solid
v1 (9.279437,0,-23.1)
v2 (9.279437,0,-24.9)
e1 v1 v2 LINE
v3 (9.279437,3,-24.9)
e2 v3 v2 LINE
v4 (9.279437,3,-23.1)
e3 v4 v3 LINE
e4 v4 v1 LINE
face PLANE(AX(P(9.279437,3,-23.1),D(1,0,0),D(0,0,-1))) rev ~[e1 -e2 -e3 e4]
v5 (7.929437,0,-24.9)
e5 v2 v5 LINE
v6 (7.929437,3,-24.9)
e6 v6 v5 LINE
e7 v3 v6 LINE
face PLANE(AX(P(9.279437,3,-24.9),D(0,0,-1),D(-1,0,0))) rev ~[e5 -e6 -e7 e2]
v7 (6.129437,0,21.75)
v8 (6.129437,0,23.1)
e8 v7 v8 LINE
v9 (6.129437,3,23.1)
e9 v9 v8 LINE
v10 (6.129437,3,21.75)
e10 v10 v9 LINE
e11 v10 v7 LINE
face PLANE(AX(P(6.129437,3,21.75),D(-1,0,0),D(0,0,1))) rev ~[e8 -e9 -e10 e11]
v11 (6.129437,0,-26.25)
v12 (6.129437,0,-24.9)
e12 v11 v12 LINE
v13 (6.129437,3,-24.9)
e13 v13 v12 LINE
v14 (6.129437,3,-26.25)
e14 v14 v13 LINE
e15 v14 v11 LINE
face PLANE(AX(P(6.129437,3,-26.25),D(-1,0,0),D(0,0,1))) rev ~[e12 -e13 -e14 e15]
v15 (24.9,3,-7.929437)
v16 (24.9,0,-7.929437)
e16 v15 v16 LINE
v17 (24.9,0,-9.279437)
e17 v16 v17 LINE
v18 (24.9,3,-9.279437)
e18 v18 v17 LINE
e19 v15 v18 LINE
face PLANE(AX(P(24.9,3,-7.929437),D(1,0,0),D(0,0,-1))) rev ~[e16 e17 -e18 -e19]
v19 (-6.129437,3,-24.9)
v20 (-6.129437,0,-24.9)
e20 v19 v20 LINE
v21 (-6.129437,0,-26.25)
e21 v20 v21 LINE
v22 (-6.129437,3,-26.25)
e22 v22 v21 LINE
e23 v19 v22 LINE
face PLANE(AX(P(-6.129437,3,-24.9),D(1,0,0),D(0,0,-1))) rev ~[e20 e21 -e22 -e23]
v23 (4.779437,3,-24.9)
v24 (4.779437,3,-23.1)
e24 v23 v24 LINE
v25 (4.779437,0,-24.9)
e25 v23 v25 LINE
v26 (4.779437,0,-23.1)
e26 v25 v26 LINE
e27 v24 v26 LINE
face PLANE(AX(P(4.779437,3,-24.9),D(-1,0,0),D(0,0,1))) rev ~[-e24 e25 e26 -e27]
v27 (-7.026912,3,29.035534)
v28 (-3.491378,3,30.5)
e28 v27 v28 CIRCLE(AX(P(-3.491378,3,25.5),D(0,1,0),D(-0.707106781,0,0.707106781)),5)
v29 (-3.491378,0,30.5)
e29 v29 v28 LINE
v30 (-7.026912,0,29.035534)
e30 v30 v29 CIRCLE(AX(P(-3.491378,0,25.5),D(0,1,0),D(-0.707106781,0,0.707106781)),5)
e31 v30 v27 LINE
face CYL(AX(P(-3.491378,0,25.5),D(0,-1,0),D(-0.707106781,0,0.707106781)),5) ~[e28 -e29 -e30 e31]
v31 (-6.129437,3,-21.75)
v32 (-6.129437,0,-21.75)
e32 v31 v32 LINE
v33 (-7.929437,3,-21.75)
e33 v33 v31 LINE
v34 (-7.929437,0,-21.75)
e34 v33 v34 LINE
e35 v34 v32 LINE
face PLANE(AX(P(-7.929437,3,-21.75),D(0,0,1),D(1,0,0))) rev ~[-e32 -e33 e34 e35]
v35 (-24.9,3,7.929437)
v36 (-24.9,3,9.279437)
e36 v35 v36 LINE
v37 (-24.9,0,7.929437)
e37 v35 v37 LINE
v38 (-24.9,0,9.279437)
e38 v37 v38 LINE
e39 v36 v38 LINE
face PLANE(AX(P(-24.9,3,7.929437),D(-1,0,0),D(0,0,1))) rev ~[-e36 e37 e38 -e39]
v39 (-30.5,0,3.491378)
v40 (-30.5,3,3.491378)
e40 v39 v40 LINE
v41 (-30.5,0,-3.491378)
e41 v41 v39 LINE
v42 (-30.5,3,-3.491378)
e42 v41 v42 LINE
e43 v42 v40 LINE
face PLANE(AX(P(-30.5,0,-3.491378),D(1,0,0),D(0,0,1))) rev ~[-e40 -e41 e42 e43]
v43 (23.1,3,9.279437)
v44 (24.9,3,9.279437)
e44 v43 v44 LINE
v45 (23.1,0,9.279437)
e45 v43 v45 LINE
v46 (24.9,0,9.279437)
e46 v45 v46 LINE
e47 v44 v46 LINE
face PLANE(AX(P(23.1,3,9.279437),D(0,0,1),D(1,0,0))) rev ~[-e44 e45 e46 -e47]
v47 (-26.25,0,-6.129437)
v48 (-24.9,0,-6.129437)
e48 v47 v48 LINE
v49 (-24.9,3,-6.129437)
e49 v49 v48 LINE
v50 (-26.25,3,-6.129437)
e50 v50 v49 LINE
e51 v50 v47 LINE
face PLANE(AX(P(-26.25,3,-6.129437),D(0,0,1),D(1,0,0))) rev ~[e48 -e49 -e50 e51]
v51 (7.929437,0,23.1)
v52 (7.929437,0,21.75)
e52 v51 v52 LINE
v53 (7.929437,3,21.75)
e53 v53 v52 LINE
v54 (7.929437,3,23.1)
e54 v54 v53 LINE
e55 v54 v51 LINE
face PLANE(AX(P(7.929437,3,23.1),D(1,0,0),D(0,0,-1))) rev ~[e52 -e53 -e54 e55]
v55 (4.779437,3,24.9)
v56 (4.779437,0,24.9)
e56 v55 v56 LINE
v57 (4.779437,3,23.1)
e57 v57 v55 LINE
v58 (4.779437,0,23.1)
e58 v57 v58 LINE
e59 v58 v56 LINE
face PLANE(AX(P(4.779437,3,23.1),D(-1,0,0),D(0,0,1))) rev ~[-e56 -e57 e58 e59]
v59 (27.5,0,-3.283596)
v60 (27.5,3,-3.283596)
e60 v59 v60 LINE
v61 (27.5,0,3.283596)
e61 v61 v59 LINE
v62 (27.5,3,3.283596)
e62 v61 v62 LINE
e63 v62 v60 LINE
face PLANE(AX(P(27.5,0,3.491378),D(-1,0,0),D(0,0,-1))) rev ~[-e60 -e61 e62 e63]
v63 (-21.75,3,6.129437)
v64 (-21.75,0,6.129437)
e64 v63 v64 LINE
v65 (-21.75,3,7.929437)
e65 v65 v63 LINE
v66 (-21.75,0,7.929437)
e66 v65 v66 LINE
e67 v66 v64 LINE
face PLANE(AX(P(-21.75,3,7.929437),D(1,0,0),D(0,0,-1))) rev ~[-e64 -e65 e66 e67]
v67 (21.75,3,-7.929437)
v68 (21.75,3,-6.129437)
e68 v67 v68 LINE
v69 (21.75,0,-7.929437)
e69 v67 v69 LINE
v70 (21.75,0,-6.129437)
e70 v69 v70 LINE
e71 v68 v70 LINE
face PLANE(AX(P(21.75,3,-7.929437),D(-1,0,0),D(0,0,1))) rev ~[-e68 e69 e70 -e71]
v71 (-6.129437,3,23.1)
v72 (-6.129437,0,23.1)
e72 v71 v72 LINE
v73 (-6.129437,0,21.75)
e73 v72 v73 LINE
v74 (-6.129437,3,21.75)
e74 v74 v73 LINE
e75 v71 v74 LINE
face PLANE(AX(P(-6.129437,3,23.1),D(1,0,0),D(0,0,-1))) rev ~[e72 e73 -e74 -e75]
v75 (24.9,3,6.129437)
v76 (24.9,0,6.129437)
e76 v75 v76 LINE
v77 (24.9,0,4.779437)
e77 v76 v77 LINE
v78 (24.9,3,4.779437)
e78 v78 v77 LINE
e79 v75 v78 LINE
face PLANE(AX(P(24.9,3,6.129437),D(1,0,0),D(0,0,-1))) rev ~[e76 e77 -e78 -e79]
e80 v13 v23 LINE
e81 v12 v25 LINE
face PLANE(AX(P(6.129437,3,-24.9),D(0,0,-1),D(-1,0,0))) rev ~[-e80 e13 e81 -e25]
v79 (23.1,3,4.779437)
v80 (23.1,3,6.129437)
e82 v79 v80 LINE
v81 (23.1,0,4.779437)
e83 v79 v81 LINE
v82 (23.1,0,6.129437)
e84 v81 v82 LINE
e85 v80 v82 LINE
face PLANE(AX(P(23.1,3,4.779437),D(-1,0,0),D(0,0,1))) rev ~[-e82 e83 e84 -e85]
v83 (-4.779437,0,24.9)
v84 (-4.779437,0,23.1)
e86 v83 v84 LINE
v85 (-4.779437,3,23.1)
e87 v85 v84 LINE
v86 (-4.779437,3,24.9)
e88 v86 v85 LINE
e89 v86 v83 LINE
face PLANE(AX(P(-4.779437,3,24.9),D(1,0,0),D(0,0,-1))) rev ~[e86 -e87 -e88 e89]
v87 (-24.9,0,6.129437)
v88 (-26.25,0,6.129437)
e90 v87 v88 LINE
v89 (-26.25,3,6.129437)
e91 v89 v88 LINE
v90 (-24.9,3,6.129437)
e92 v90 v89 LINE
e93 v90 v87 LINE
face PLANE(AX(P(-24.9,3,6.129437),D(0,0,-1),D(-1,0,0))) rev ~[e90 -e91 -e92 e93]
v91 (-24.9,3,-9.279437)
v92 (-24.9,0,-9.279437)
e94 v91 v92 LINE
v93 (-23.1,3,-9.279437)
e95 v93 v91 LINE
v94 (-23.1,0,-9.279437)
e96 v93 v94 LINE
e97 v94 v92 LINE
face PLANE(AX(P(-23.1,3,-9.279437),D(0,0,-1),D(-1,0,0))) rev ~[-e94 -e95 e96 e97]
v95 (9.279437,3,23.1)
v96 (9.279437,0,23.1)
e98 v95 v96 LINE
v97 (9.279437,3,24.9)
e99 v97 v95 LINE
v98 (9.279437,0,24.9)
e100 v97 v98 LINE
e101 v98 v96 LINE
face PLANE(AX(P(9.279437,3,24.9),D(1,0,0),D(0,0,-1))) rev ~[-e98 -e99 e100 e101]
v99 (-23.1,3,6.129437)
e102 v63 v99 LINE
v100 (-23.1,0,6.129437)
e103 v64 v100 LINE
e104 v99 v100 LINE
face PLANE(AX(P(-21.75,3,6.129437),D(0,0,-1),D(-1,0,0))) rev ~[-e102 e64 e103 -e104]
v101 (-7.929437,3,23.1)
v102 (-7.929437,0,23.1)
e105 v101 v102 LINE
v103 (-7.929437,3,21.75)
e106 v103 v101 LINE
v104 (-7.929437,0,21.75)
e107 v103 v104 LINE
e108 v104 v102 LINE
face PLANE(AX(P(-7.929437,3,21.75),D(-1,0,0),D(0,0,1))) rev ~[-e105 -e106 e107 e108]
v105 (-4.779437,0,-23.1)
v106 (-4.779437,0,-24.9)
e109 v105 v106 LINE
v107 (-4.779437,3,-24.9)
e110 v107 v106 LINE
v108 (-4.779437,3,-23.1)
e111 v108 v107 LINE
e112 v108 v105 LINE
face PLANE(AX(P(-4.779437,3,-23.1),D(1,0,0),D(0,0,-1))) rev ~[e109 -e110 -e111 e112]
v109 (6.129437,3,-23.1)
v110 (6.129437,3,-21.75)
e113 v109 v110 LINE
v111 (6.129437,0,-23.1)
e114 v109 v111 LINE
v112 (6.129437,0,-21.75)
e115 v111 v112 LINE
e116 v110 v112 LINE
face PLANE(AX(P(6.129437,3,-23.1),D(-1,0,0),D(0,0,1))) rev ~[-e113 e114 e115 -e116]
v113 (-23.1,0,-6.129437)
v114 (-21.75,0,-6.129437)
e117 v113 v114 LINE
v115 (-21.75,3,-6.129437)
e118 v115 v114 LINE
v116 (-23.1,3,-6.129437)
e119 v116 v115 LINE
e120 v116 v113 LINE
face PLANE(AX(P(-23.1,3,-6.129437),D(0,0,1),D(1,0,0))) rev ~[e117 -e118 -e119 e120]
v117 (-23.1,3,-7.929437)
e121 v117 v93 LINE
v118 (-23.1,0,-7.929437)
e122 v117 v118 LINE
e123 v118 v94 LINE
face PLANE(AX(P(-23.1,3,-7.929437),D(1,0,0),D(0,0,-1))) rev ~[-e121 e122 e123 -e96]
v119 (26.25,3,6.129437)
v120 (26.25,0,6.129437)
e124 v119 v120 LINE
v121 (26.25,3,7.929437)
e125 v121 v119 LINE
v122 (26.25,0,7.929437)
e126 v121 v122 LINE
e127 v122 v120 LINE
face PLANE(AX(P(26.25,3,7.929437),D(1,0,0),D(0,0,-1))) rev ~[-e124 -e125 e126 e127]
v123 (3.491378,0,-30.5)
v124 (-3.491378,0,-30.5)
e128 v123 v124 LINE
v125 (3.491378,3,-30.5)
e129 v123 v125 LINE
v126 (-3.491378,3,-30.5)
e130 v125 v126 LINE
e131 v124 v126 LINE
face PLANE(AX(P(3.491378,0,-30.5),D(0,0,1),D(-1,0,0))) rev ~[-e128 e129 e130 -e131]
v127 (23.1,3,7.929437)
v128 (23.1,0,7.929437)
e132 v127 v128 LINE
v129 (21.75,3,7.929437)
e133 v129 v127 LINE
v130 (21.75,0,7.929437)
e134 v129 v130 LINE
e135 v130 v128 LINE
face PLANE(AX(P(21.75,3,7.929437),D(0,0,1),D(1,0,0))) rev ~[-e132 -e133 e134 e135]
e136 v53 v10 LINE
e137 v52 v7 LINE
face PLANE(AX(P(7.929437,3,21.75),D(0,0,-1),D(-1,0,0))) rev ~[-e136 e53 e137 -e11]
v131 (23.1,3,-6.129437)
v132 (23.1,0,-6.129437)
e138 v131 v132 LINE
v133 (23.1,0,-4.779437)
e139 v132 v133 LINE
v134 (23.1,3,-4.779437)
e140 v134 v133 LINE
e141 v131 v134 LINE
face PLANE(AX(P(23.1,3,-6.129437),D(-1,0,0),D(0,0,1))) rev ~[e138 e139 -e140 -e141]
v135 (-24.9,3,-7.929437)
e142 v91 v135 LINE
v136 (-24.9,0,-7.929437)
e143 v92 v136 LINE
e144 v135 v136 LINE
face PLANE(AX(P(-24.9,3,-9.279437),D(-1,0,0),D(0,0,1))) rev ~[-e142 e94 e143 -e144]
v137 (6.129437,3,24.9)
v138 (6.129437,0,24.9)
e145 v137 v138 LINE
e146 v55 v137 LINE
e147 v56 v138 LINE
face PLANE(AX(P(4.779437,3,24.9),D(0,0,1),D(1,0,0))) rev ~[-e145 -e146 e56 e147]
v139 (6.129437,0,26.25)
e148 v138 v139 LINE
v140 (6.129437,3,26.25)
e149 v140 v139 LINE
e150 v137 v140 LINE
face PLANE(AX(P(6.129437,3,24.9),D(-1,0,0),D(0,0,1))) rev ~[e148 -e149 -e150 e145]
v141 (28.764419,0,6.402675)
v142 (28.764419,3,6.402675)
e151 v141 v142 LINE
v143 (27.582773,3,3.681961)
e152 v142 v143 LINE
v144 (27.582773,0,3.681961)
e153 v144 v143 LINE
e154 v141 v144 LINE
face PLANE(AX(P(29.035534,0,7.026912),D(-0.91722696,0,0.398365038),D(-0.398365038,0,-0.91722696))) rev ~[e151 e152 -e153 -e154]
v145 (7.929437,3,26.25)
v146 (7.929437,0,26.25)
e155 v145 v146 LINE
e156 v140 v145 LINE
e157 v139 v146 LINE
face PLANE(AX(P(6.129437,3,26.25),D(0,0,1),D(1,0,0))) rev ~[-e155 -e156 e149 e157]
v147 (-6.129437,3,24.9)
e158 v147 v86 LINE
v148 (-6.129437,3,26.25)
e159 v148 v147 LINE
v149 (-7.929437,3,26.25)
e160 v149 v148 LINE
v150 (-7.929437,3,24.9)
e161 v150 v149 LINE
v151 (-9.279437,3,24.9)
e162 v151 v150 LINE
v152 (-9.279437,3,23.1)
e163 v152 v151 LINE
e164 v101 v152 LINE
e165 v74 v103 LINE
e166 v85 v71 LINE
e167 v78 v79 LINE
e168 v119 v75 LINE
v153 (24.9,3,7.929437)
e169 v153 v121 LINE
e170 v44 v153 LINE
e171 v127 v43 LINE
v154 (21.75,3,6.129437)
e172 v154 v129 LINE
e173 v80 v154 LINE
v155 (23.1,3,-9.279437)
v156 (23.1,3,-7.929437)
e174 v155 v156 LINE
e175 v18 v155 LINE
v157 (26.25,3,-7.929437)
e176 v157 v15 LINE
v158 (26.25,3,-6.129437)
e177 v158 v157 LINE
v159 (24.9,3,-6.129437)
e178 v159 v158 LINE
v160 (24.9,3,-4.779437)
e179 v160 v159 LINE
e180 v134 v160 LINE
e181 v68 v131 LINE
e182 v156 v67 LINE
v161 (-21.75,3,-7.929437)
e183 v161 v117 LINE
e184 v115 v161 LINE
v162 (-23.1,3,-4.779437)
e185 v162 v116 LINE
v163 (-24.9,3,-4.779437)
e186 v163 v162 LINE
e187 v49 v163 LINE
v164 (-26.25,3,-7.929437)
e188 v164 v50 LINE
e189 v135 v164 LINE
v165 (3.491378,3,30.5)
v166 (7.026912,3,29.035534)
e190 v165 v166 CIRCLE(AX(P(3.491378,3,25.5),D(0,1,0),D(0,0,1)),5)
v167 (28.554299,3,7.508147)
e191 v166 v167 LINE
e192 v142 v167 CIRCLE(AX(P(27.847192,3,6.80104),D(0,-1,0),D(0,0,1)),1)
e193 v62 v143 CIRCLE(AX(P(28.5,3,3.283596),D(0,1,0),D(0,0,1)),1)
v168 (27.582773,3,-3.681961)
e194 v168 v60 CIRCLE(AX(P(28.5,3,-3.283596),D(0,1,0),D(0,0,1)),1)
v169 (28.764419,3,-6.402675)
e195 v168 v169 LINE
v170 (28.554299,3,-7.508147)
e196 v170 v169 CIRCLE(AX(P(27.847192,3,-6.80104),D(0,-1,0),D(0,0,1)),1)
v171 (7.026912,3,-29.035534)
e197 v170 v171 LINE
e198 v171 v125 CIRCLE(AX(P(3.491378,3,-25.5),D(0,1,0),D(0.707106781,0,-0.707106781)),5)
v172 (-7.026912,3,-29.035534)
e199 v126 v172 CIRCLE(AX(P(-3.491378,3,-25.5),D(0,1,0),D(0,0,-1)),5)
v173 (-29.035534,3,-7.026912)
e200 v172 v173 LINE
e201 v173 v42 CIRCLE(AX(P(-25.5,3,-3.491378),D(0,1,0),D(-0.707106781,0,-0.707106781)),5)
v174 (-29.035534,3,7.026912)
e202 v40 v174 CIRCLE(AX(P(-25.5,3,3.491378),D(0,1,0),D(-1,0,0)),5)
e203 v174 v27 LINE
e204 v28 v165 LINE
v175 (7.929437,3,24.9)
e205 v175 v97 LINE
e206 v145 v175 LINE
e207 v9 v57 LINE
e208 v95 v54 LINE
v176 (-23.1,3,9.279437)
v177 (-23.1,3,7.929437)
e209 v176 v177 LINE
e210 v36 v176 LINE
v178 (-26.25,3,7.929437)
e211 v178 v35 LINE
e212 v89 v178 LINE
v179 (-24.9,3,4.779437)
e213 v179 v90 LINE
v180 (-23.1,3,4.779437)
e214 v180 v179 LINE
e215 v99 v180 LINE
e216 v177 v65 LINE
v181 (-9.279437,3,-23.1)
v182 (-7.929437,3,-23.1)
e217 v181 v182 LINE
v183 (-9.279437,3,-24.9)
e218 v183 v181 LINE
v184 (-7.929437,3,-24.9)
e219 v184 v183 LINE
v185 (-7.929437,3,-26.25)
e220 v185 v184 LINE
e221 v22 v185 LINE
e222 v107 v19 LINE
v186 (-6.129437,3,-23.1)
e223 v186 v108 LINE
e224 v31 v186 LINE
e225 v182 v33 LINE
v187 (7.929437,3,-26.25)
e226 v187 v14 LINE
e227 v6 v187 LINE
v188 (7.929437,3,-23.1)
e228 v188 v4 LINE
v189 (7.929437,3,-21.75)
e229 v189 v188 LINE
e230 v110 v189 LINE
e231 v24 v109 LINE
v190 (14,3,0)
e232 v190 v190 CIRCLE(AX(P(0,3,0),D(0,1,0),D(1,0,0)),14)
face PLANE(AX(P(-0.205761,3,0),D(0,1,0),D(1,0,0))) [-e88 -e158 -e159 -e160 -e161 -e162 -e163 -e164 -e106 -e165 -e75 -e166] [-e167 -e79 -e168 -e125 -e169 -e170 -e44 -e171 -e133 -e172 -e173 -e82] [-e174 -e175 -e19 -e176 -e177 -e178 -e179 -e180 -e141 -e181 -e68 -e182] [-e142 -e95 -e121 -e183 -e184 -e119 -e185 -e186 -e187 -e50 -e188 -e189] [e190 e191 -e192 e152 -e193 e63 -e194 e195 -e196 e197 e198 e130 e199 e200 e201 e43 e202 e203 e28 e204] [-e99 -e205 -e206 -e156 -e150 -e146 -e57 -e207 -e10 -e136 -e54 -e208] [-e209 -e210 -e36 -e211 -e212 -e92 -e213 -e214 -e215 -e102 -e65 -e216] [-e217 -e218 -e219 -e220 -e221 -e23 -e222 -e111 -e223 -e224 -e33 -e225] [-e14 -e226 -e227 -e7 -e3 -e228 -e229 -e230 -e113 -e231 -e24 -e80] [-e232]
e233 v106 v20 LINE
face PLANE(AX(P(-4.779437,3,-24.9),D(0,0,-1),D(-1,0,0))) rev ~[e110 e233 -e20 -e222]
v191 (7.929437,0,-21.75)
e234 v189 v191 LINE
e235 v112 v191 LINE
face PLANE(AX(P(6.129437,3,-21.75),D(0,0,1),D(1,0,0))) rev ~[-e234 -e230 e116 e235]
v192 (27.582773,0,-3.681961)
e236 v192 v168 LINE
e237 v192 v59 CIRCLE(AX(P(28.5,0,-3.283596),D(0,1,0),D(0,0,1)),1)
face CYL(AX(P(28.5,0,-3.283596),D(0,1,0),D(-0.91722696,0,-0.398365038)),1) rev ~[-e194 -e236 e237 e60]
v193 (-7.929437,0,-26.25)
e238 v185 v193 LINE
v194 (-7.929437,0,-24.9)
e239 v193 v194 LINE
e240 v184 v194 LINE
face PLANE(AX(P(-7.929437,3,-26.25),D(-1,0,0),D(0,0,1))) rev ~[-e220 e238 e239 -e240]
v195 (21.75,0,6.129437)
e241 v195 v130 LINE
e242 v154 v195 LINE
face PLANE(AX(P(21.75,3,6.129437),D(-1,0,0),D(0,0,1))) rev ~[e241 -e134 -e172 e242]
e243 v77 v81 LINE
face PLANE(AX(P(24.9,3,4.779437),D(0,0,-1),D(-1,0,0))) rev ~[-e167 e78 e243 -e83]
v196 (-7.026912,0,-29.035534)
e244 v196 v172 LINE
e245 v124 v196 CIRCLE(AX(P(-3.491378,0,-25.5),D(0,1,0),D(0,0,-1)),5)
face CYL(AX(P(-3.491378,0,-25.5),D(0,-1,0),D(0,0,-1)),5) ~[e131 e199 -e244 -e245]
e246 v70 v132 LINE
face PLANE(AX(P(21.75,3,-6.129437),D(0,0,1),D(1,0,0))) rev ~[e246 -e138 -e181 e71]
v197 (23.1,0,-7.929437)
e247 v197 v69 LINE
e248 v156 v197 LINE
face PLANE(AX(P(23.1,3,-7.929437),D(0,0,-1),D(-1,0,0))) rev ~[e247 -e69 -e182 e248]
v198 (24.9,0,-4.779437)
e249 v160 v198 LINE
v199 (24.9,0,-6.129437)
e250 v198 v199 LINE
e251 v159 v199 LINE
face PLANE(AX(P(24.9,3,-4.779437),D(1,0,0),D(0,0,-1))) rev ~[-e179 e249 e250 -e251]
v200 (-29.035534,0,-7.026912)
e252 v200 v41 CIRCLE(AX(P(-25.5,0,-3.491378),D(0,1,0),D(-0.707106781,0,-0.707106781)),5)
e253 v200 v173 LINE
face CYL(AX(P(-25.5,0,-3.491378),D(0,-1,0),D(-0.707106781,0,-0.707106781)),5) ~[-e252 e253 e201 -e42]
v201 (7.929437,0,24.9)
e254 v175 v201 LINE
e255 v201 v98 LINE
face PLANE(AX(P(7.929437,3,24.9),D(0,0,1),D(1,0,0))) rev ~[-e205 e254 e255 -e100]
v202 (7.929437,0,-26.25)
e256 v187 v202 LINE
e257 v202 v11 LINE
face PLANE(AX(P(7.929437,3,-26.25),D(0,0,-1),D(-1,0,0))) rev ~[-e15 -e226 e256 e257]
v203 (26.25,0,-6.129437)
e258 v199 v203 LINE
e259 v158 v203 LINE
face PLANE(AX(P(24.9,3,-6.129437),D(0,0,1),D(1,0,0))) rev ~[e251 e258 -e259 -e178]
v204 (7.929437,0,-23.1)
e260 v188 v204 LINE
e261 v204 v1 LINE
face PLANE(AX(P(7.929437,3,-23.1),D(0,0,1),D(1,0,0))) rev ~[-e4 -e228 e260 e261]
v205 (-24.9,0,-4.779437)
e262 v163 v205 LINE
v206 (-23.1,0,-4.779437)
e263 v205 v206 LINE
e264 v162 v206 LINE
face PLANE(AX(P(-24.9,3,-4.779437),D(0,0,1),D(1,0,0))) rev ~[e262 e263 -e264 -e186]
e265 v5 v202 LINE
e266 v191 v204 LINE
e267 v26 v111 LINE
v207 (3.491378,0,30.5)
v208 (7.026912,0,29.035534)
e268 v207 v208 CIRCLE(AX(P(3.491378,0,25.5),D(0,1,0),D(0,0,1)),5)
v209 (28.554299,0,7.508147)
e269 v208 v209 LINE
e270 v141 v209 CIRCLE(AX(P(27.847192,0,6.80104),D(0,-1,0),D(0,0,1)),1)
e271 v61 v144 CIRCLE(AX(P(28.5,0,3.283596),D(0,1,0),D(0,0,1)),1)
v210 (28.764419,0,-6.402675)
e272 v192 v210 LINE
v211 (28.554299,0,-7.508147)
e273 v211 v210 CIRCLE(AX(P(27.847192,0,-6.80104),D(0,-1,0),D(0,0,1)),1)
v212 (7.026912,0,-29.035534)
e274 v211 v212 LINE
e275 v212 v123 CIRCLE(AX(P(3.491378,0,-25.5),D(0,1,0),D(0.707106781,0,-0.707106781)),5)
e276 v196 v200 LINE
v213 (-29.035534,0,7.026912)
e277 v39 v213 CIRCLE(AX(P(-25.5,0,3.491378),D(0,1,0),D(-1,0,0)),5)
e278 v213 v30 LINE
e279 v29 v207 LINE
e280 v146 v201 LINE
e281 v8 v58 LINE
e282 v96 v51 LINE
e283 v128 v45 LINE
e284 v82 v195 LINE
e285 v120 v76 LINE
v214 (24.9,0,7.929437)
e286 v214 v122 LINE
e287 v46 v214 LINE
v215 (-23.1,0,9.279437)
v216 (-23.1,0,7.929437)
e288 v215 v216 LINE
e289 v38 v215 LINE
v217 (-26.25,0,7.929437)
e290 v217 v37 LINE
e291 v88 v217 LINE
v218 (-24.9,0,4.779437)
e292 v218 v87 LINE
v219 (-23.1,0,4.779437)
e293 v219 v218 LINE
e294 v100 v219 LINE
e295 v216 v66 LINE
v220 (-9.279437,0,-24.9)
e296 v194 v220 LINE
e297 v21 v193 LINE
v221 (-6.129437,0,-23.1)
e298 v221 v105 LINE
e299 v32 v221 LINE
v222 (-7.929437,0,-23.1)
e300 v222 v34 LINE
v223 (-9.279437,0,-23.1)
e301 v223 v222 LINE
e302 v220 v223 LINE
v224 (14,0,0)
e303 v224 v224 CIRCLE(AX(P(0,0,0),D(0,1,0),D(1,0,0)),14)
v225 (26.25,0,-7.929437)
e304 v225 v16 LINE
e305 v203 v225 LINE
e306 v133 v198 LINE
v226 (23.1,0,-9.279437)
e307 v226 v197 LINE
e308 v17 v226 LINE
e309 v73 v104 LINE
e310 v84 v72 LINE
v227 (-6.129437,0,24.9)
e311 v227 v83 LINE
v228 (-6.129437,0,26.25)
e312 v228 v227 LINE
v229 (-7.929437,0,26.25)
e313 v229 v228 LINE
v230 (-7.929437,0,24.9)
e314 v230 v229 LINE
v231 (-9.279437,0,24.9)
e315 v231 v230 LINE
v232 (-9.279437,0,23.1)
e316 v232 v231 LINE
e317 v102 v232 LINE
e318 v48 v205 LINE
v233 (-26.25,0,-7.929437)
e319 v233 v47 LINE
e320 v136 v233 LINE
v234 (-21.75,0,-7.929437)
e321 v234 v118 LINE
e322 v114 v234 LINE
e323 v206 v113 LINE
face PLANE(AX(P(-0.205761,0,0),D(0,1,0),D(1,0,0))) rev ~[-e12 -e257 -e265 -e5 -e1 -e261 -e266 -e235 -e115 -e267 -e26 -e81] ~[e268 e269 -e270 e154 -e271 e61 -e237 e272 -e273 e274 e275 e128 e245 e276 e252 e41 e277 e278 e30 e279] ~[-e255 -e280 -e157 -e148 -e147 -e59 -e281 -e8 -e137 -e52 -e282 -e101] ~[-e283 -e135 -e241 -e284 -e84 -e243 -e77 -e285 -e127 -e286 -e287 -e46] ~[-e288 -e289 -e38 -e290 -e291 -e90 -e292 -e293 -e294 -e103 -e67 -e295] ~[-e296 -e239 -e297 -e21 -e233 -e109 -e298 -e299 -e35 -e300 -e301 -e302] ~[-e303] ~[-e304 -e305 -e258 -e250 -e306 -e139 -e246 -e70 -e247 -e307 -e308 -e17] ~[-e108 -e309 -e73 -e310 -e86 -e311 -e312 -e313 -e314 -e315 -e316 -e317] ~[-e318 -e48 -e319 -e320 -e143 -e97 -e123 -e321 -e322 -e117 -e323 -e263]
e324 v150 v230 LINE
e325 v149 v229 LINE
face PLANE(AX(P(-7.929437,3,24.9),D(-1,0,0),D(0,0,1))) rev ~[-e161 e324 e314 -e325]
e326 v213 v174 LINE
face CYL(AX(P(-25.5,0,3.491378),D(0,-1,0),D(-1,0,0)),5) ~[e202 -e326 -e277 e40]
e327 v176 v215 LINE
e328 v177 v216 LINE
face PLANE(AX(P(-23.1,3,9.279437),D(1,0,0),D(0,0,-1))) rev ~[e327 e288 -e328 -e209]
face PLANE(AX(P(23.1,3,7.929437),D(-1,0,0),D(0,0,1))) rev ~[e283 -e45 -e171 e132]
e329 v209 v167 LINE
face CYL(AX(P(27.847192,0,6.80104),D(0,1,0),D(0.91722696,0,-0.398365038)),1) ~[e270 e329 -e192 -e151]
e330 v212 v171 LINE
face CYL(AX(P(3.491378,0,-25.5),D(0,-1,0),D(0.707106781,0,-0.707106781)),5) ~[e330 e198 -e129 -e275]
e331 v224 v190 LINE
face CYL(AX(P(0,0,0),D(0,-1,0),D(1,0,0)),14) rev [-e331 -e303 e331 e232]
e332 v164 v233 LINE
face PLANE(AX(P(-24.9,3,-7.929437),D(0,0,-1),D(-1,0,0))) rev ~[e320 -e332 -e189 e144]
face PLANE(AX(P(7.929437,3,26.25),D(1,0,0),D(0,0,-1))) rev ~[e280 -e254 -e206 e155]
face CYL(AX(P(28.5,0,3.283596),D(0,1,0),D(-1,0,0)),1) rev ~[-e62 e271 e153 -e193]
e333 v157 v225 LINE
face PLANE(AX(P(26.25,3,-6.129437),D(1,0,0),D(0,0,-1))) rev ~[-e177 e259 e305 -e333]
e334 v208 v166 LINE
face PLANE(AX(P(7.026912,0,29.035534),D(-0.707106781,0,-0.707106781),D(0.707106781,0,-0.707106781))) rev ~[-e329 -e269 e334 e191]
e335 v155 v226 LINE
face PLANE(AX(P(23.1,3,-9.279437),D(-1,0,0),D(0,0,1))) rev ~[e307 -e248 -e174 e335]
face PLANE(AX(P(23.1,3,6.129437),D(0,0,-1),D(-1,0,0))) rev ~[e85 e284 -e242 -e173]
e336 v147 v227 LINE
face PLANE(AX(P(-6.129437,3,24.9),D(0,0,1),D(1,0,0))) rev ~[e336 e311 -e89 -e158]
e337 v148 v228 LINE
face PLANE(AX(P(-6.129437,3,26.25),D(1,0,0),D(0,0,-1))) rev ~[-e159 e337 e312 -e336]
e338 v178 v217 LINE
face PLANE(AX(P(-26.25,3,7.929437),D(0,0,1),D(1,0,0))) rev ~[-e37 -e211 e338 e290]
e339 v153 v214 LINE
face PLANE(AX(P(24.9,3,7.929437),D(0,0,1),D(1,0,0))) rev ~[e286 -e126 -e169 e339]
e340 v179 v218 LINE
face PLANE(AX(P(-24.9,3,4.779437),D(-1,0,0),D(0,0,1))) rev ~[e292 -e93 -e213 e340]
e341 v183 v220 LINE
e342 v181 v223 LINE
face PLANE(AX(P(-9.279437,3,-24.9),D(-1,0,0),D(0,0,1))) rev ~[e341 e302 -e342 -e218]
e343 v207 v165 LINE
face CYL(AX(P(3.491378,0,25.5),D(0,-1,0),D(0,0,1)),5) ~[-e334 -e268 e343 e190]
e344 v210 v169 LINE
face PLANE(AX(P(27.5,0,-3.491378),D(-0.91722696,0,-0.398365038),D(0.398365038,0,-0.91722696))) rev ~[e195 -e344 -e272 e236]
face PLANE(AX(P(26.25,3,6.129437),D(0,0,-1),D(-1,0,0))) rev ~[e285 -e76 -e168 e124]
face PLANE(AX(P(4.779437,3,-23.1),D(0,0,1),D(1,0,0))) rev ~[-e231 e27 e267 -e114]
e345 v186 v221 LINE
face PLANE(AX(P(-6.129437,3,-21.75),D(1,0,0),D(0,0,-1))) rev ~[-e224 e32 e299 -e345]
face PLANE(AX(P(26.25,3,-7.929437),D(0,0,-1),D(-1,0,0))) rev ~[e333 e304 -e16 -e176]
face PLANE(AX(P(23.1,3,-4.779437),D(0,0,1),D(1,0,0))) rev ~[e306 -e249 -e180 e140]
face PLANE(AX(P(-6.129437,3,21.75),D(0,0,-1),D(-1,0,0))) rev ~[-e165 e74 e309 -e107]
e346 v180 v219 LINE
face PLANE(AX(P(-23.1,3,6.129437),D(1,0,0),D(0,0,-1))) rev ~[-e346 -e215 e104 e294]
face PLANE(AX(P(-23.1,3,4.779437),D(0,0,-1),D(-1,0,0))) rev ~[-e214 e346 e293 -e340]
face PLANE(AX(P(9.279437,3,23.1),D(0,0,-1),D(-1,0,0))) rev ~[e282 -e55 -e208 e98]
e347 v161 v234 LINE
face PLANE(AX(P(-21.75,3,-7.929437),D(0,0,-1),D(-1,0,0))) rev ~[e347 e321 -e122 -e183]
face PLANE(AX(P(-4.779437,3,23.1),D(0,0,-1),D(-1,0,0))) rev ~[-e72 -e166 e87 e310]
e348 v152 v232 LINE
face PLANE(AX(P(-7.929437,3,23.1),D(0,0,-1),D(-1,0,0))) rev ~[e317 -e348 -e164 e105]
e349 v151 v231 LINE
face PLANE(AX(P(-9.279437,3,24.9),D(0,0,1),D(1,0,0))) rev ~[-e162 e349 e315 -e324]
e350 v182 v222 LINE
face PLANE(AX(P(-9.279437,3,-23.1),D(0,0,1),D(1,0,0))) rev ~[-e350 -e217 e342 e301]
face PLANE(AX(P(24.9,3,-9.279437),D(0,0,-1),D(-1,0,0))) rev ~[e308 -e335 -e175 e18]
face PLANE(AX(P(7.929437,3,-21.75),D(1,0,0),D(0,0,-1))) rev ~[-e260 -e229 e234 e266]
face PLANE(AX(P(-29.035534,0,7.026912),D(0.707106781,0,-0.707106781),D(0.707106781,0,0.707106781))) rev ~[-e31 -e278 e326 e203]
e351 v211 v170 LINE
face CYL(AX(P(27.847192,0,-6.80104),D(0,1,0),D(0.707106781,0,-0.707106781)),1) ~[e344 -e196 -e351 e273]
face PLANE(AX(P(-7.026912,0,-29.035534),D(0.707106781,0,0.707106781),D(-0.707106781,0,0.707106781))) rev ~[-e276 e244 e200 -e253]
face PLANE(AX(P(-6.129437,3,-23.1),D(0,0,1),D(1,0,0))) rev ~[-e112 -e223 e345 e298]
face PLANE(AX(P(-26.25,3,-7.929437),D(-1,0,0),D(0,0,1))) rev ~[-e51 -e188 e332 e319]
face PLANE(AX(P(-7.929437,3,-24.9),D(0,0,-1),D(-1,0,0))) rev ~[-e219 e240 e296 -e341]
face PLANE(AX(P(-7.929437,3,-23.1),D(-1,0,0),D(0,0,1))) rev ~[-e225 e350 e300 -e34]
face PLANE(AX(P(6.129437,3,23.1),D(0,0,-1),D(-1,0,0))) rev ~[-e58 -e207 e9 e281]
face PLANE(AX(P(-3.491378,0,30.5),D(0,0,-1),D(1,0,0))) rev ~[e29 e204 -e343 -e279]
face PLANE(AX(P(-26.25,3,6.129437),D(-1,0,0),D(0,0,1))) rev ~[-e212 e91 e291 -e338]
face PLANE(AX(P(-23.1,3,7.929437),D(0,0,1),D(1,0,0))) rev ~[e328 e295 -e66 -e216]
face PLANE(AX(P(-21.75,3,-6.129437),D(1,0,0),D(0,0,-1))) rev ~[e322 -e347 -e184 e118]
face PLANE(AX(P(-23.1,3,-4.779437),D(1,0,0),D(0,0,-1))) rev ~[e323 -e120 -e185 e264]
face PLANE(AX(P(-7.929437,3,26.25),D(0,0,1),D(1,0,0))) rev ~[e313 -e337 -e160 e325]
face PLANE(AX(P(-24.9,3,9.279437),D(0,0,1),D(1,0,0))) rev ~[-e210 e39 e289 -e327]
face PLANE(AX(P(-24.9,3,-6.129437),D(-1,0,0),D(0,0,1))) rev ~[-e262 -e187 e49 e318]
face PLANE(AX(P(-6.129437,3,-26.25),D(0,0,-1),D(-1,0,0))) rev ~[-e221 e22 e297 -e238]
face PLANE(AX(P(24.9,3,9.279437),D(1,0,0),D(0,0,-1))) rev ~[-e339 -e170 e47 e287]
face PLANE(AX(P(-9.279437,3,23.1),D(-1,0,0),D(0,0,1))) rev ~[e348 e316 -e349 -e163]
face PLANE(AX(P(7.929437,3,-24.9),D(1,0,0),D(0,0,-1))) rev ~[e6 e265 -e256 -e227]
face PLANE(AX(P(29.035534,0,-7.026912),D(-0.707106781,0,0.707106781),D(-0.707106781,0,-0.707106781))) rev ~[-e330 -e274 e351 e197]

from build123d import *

# Parameters (mm, degrees)
SKETCH1_R           = 14
BOSS_EXTRUDE1_DEPTH = 3
CUT_EXTRUDE1_DEPTH  = 4
FILLET1_R           = 1


with BuildPart() as part:
    # Sketch1 → Boss-Extrude1 (new body)
    with BuildSketch(Plane(origin=(0, 0, 0), x_dir=(1, 0, 0), z_dir=(0, 1, 0))):
        with BuildLine():
            Line((3.491378029, 30.5), (-3.491378029, 30.5))
            ThreePointArc((-3.491378029, 30.5), (-5.40479519, 30.119397663), (-7.026911935, 29.035533906))
            Line((-7.026911935, 29.035533906), (-29.035533906, 7.026911935))
            ThreePointArc((-29.035533906, 7.026911935), (-30.119397663, 5.40479519), (-30.5, 3.491378029))
            Line((-30.5, 3.491378029), (-30.5, -3.491378029))
            ThreePointArc((-30.5, -3.491378029), (-30.119397663, -5.40479519), (-29.035533906, -7.026911935))
            Line((-29.035533906, -7.026911935), (-7.026911935, -29.035533906))
            ThreePointArc((-7.026911935, -29.035533906), (-5.40479519, -30.119397663), (-3.491378029, -30.5))
            Line((-3.491378029, -30.5), (3.491378029, -30.5))
            ThreePointArc((3.491378029, -30.5), (5.40479519, -30.119397663), (7.026911935, -29.035533906))
            Line((7.026911935, -29.035533906), (29.035533906, -7.026911935))
            Line((29.035533906, -7.026911935), (27.5, -3.491378029))
            Line((27.5, -3.491378029), (27.5, 3.491378029))
            Line((27.5, 3.491378029), (29.035533906, 7.026911935))
            Line((29.035533906, 7.026911935), (7.026911935, 29.035533906))
            ThreePointArc((7.026911935, 29.035533906), (5.40479519, 30.119397663), (3.491378029, 30.5))
        make_face()
        Circle(SKETCH1_R, mode=Mode.SUBTRACT)
    extrude(amount=BOSS_EXTRUDE1_DEPTH)

    # Sketch2 → Cut-Extrude1 (cut, through all)
    with BuildSketch(Plane(origin=(0, 3, 0), x_dir=(1, 0, 0), z_dir=(0, 1, 0))):
        Polygon((-26.25, 7.929437252), (-26.25, 6.129437252), (-24.9, 6.129437252), (-24.9, 4.779437252), (-23.1, 4.779437252), (-23.1, 6.129437252), (-21.75, 6.129437252), (-21.75, 7.929437252), (-23.1, 7.929437252), (-23.1, 9.279437252), (-24.9, 9.279437252), (-24.9, 7.929437252), align=None)
        Polygon((-23.1, -4.779437252), (-24.9, -4.779437252), (-24.9, -6.129437252), (-26.25, -6.129437252), (-26.25, -7.929437252), (-24.9, -7.929437252), (-24.9, -9.279437252), (-23.1, -9.279437252), (-23.1, -7.929437252), (-21.75, -7.929437252), (-21.75, -6.129437252), (-23.1, -6.129437252), align=None)
        Polygon((7.929437252, 23.1), (9.279437252, 23.1), (9.279437252, 24.9), (7.929437252, 24.9), (7.929437252, 26.25), (6.129437252, 26.25), (6.129437252, 24.9), (4.779437252, 24.9), (4.779437252, 23.1), (6.129437252, 23.1), (6.129437252, 21.75), (7.929437252, 21.75), align=None)
        Polygon((26.25, -7.929437252), (26.25, -6.129437252), (24.9, -6.129437252), (24.9, -4.779437252), (23.1, -4.779437252), (23.1, -6.129437252), (21.75, -6.129437252), (21.75, -7.929437252), (23.1, -7.929437252), (23.1, -9.279437252), (24.9, -9.279437252), (24.9, -7.929437252), align=None)
        Polygon((-4.779437252, 24.9), (-6.129437252, 24.9), (-6.129437252, 26.25), (-7.929437252, 26.25), (-7.929437252, 24.9), (-9.279437252, 24.9), (-9.279437252, 23.1), (-7.929437252, 23.1), (-7.929437252, 21.75), (-6.129437252, 21.75), (-6.129437252, 23.1), (-4.779437252, 23.1), align=None)
        Polygon((26.25, 7.929437252), (24.9, 7.929437252), (24.9, 9.279437252), (23.1, 9.279437252), (23.1, 7.929437252), (21.75, 7.929437252), (21.75, 6.129437252), (23.1, 6.129437252), (23.1, 4.779437252), (24.9, 4.779437252), (24.9, 6.129437252), (26.25, 6.129437252), align=None)
        Polygon((-6.129437252, -26.25), (-6.129437252, -24.9), (-4.779437252, -24.9), (-4.779437252, -23.1), (-6.129437252, -23.1), (-6.129437252, -21.75), (-7.929437252, -21.75), (-7.929437252, -23.1), (-9.279437252, -23.1), (-9.279437252, -24.9), (-7.929437252, -24.9), (-7.929437252, -26.25), align=None)
        Polygon((7.929437252, -26.25), (7.929437252, -24.9), (9.279437252, -24.9), (9.279437252, -23.1), (7.929437252, -23.1), (7.929437252, -21.75), (6.129437252, -21.75), (6.129437252, -23.1), (4.779437252, -23.1), (4.779437252, -24.9), (6.129437252, -24.9), (6.129437252, -26.25), align=None)
    extrude(amount=-CUT_EXTRUDE1_DEPTH, mode=Mode.SUBTRACT)

    # Fillet1
    fillet1_edges = [part.edges().sort_by_distance(p)[0] for p in [
        (29.035533906, 1.5, -7.026911935),
        (27.5, 1.5, -3.491378029),
        (27.5, 1.5, 3.491378029),
        (29.035533906, 1.5, 7.026911935),
    ]]
    fillet(fillet1_edges, radius=FILLET1_R)


solid = part.part
